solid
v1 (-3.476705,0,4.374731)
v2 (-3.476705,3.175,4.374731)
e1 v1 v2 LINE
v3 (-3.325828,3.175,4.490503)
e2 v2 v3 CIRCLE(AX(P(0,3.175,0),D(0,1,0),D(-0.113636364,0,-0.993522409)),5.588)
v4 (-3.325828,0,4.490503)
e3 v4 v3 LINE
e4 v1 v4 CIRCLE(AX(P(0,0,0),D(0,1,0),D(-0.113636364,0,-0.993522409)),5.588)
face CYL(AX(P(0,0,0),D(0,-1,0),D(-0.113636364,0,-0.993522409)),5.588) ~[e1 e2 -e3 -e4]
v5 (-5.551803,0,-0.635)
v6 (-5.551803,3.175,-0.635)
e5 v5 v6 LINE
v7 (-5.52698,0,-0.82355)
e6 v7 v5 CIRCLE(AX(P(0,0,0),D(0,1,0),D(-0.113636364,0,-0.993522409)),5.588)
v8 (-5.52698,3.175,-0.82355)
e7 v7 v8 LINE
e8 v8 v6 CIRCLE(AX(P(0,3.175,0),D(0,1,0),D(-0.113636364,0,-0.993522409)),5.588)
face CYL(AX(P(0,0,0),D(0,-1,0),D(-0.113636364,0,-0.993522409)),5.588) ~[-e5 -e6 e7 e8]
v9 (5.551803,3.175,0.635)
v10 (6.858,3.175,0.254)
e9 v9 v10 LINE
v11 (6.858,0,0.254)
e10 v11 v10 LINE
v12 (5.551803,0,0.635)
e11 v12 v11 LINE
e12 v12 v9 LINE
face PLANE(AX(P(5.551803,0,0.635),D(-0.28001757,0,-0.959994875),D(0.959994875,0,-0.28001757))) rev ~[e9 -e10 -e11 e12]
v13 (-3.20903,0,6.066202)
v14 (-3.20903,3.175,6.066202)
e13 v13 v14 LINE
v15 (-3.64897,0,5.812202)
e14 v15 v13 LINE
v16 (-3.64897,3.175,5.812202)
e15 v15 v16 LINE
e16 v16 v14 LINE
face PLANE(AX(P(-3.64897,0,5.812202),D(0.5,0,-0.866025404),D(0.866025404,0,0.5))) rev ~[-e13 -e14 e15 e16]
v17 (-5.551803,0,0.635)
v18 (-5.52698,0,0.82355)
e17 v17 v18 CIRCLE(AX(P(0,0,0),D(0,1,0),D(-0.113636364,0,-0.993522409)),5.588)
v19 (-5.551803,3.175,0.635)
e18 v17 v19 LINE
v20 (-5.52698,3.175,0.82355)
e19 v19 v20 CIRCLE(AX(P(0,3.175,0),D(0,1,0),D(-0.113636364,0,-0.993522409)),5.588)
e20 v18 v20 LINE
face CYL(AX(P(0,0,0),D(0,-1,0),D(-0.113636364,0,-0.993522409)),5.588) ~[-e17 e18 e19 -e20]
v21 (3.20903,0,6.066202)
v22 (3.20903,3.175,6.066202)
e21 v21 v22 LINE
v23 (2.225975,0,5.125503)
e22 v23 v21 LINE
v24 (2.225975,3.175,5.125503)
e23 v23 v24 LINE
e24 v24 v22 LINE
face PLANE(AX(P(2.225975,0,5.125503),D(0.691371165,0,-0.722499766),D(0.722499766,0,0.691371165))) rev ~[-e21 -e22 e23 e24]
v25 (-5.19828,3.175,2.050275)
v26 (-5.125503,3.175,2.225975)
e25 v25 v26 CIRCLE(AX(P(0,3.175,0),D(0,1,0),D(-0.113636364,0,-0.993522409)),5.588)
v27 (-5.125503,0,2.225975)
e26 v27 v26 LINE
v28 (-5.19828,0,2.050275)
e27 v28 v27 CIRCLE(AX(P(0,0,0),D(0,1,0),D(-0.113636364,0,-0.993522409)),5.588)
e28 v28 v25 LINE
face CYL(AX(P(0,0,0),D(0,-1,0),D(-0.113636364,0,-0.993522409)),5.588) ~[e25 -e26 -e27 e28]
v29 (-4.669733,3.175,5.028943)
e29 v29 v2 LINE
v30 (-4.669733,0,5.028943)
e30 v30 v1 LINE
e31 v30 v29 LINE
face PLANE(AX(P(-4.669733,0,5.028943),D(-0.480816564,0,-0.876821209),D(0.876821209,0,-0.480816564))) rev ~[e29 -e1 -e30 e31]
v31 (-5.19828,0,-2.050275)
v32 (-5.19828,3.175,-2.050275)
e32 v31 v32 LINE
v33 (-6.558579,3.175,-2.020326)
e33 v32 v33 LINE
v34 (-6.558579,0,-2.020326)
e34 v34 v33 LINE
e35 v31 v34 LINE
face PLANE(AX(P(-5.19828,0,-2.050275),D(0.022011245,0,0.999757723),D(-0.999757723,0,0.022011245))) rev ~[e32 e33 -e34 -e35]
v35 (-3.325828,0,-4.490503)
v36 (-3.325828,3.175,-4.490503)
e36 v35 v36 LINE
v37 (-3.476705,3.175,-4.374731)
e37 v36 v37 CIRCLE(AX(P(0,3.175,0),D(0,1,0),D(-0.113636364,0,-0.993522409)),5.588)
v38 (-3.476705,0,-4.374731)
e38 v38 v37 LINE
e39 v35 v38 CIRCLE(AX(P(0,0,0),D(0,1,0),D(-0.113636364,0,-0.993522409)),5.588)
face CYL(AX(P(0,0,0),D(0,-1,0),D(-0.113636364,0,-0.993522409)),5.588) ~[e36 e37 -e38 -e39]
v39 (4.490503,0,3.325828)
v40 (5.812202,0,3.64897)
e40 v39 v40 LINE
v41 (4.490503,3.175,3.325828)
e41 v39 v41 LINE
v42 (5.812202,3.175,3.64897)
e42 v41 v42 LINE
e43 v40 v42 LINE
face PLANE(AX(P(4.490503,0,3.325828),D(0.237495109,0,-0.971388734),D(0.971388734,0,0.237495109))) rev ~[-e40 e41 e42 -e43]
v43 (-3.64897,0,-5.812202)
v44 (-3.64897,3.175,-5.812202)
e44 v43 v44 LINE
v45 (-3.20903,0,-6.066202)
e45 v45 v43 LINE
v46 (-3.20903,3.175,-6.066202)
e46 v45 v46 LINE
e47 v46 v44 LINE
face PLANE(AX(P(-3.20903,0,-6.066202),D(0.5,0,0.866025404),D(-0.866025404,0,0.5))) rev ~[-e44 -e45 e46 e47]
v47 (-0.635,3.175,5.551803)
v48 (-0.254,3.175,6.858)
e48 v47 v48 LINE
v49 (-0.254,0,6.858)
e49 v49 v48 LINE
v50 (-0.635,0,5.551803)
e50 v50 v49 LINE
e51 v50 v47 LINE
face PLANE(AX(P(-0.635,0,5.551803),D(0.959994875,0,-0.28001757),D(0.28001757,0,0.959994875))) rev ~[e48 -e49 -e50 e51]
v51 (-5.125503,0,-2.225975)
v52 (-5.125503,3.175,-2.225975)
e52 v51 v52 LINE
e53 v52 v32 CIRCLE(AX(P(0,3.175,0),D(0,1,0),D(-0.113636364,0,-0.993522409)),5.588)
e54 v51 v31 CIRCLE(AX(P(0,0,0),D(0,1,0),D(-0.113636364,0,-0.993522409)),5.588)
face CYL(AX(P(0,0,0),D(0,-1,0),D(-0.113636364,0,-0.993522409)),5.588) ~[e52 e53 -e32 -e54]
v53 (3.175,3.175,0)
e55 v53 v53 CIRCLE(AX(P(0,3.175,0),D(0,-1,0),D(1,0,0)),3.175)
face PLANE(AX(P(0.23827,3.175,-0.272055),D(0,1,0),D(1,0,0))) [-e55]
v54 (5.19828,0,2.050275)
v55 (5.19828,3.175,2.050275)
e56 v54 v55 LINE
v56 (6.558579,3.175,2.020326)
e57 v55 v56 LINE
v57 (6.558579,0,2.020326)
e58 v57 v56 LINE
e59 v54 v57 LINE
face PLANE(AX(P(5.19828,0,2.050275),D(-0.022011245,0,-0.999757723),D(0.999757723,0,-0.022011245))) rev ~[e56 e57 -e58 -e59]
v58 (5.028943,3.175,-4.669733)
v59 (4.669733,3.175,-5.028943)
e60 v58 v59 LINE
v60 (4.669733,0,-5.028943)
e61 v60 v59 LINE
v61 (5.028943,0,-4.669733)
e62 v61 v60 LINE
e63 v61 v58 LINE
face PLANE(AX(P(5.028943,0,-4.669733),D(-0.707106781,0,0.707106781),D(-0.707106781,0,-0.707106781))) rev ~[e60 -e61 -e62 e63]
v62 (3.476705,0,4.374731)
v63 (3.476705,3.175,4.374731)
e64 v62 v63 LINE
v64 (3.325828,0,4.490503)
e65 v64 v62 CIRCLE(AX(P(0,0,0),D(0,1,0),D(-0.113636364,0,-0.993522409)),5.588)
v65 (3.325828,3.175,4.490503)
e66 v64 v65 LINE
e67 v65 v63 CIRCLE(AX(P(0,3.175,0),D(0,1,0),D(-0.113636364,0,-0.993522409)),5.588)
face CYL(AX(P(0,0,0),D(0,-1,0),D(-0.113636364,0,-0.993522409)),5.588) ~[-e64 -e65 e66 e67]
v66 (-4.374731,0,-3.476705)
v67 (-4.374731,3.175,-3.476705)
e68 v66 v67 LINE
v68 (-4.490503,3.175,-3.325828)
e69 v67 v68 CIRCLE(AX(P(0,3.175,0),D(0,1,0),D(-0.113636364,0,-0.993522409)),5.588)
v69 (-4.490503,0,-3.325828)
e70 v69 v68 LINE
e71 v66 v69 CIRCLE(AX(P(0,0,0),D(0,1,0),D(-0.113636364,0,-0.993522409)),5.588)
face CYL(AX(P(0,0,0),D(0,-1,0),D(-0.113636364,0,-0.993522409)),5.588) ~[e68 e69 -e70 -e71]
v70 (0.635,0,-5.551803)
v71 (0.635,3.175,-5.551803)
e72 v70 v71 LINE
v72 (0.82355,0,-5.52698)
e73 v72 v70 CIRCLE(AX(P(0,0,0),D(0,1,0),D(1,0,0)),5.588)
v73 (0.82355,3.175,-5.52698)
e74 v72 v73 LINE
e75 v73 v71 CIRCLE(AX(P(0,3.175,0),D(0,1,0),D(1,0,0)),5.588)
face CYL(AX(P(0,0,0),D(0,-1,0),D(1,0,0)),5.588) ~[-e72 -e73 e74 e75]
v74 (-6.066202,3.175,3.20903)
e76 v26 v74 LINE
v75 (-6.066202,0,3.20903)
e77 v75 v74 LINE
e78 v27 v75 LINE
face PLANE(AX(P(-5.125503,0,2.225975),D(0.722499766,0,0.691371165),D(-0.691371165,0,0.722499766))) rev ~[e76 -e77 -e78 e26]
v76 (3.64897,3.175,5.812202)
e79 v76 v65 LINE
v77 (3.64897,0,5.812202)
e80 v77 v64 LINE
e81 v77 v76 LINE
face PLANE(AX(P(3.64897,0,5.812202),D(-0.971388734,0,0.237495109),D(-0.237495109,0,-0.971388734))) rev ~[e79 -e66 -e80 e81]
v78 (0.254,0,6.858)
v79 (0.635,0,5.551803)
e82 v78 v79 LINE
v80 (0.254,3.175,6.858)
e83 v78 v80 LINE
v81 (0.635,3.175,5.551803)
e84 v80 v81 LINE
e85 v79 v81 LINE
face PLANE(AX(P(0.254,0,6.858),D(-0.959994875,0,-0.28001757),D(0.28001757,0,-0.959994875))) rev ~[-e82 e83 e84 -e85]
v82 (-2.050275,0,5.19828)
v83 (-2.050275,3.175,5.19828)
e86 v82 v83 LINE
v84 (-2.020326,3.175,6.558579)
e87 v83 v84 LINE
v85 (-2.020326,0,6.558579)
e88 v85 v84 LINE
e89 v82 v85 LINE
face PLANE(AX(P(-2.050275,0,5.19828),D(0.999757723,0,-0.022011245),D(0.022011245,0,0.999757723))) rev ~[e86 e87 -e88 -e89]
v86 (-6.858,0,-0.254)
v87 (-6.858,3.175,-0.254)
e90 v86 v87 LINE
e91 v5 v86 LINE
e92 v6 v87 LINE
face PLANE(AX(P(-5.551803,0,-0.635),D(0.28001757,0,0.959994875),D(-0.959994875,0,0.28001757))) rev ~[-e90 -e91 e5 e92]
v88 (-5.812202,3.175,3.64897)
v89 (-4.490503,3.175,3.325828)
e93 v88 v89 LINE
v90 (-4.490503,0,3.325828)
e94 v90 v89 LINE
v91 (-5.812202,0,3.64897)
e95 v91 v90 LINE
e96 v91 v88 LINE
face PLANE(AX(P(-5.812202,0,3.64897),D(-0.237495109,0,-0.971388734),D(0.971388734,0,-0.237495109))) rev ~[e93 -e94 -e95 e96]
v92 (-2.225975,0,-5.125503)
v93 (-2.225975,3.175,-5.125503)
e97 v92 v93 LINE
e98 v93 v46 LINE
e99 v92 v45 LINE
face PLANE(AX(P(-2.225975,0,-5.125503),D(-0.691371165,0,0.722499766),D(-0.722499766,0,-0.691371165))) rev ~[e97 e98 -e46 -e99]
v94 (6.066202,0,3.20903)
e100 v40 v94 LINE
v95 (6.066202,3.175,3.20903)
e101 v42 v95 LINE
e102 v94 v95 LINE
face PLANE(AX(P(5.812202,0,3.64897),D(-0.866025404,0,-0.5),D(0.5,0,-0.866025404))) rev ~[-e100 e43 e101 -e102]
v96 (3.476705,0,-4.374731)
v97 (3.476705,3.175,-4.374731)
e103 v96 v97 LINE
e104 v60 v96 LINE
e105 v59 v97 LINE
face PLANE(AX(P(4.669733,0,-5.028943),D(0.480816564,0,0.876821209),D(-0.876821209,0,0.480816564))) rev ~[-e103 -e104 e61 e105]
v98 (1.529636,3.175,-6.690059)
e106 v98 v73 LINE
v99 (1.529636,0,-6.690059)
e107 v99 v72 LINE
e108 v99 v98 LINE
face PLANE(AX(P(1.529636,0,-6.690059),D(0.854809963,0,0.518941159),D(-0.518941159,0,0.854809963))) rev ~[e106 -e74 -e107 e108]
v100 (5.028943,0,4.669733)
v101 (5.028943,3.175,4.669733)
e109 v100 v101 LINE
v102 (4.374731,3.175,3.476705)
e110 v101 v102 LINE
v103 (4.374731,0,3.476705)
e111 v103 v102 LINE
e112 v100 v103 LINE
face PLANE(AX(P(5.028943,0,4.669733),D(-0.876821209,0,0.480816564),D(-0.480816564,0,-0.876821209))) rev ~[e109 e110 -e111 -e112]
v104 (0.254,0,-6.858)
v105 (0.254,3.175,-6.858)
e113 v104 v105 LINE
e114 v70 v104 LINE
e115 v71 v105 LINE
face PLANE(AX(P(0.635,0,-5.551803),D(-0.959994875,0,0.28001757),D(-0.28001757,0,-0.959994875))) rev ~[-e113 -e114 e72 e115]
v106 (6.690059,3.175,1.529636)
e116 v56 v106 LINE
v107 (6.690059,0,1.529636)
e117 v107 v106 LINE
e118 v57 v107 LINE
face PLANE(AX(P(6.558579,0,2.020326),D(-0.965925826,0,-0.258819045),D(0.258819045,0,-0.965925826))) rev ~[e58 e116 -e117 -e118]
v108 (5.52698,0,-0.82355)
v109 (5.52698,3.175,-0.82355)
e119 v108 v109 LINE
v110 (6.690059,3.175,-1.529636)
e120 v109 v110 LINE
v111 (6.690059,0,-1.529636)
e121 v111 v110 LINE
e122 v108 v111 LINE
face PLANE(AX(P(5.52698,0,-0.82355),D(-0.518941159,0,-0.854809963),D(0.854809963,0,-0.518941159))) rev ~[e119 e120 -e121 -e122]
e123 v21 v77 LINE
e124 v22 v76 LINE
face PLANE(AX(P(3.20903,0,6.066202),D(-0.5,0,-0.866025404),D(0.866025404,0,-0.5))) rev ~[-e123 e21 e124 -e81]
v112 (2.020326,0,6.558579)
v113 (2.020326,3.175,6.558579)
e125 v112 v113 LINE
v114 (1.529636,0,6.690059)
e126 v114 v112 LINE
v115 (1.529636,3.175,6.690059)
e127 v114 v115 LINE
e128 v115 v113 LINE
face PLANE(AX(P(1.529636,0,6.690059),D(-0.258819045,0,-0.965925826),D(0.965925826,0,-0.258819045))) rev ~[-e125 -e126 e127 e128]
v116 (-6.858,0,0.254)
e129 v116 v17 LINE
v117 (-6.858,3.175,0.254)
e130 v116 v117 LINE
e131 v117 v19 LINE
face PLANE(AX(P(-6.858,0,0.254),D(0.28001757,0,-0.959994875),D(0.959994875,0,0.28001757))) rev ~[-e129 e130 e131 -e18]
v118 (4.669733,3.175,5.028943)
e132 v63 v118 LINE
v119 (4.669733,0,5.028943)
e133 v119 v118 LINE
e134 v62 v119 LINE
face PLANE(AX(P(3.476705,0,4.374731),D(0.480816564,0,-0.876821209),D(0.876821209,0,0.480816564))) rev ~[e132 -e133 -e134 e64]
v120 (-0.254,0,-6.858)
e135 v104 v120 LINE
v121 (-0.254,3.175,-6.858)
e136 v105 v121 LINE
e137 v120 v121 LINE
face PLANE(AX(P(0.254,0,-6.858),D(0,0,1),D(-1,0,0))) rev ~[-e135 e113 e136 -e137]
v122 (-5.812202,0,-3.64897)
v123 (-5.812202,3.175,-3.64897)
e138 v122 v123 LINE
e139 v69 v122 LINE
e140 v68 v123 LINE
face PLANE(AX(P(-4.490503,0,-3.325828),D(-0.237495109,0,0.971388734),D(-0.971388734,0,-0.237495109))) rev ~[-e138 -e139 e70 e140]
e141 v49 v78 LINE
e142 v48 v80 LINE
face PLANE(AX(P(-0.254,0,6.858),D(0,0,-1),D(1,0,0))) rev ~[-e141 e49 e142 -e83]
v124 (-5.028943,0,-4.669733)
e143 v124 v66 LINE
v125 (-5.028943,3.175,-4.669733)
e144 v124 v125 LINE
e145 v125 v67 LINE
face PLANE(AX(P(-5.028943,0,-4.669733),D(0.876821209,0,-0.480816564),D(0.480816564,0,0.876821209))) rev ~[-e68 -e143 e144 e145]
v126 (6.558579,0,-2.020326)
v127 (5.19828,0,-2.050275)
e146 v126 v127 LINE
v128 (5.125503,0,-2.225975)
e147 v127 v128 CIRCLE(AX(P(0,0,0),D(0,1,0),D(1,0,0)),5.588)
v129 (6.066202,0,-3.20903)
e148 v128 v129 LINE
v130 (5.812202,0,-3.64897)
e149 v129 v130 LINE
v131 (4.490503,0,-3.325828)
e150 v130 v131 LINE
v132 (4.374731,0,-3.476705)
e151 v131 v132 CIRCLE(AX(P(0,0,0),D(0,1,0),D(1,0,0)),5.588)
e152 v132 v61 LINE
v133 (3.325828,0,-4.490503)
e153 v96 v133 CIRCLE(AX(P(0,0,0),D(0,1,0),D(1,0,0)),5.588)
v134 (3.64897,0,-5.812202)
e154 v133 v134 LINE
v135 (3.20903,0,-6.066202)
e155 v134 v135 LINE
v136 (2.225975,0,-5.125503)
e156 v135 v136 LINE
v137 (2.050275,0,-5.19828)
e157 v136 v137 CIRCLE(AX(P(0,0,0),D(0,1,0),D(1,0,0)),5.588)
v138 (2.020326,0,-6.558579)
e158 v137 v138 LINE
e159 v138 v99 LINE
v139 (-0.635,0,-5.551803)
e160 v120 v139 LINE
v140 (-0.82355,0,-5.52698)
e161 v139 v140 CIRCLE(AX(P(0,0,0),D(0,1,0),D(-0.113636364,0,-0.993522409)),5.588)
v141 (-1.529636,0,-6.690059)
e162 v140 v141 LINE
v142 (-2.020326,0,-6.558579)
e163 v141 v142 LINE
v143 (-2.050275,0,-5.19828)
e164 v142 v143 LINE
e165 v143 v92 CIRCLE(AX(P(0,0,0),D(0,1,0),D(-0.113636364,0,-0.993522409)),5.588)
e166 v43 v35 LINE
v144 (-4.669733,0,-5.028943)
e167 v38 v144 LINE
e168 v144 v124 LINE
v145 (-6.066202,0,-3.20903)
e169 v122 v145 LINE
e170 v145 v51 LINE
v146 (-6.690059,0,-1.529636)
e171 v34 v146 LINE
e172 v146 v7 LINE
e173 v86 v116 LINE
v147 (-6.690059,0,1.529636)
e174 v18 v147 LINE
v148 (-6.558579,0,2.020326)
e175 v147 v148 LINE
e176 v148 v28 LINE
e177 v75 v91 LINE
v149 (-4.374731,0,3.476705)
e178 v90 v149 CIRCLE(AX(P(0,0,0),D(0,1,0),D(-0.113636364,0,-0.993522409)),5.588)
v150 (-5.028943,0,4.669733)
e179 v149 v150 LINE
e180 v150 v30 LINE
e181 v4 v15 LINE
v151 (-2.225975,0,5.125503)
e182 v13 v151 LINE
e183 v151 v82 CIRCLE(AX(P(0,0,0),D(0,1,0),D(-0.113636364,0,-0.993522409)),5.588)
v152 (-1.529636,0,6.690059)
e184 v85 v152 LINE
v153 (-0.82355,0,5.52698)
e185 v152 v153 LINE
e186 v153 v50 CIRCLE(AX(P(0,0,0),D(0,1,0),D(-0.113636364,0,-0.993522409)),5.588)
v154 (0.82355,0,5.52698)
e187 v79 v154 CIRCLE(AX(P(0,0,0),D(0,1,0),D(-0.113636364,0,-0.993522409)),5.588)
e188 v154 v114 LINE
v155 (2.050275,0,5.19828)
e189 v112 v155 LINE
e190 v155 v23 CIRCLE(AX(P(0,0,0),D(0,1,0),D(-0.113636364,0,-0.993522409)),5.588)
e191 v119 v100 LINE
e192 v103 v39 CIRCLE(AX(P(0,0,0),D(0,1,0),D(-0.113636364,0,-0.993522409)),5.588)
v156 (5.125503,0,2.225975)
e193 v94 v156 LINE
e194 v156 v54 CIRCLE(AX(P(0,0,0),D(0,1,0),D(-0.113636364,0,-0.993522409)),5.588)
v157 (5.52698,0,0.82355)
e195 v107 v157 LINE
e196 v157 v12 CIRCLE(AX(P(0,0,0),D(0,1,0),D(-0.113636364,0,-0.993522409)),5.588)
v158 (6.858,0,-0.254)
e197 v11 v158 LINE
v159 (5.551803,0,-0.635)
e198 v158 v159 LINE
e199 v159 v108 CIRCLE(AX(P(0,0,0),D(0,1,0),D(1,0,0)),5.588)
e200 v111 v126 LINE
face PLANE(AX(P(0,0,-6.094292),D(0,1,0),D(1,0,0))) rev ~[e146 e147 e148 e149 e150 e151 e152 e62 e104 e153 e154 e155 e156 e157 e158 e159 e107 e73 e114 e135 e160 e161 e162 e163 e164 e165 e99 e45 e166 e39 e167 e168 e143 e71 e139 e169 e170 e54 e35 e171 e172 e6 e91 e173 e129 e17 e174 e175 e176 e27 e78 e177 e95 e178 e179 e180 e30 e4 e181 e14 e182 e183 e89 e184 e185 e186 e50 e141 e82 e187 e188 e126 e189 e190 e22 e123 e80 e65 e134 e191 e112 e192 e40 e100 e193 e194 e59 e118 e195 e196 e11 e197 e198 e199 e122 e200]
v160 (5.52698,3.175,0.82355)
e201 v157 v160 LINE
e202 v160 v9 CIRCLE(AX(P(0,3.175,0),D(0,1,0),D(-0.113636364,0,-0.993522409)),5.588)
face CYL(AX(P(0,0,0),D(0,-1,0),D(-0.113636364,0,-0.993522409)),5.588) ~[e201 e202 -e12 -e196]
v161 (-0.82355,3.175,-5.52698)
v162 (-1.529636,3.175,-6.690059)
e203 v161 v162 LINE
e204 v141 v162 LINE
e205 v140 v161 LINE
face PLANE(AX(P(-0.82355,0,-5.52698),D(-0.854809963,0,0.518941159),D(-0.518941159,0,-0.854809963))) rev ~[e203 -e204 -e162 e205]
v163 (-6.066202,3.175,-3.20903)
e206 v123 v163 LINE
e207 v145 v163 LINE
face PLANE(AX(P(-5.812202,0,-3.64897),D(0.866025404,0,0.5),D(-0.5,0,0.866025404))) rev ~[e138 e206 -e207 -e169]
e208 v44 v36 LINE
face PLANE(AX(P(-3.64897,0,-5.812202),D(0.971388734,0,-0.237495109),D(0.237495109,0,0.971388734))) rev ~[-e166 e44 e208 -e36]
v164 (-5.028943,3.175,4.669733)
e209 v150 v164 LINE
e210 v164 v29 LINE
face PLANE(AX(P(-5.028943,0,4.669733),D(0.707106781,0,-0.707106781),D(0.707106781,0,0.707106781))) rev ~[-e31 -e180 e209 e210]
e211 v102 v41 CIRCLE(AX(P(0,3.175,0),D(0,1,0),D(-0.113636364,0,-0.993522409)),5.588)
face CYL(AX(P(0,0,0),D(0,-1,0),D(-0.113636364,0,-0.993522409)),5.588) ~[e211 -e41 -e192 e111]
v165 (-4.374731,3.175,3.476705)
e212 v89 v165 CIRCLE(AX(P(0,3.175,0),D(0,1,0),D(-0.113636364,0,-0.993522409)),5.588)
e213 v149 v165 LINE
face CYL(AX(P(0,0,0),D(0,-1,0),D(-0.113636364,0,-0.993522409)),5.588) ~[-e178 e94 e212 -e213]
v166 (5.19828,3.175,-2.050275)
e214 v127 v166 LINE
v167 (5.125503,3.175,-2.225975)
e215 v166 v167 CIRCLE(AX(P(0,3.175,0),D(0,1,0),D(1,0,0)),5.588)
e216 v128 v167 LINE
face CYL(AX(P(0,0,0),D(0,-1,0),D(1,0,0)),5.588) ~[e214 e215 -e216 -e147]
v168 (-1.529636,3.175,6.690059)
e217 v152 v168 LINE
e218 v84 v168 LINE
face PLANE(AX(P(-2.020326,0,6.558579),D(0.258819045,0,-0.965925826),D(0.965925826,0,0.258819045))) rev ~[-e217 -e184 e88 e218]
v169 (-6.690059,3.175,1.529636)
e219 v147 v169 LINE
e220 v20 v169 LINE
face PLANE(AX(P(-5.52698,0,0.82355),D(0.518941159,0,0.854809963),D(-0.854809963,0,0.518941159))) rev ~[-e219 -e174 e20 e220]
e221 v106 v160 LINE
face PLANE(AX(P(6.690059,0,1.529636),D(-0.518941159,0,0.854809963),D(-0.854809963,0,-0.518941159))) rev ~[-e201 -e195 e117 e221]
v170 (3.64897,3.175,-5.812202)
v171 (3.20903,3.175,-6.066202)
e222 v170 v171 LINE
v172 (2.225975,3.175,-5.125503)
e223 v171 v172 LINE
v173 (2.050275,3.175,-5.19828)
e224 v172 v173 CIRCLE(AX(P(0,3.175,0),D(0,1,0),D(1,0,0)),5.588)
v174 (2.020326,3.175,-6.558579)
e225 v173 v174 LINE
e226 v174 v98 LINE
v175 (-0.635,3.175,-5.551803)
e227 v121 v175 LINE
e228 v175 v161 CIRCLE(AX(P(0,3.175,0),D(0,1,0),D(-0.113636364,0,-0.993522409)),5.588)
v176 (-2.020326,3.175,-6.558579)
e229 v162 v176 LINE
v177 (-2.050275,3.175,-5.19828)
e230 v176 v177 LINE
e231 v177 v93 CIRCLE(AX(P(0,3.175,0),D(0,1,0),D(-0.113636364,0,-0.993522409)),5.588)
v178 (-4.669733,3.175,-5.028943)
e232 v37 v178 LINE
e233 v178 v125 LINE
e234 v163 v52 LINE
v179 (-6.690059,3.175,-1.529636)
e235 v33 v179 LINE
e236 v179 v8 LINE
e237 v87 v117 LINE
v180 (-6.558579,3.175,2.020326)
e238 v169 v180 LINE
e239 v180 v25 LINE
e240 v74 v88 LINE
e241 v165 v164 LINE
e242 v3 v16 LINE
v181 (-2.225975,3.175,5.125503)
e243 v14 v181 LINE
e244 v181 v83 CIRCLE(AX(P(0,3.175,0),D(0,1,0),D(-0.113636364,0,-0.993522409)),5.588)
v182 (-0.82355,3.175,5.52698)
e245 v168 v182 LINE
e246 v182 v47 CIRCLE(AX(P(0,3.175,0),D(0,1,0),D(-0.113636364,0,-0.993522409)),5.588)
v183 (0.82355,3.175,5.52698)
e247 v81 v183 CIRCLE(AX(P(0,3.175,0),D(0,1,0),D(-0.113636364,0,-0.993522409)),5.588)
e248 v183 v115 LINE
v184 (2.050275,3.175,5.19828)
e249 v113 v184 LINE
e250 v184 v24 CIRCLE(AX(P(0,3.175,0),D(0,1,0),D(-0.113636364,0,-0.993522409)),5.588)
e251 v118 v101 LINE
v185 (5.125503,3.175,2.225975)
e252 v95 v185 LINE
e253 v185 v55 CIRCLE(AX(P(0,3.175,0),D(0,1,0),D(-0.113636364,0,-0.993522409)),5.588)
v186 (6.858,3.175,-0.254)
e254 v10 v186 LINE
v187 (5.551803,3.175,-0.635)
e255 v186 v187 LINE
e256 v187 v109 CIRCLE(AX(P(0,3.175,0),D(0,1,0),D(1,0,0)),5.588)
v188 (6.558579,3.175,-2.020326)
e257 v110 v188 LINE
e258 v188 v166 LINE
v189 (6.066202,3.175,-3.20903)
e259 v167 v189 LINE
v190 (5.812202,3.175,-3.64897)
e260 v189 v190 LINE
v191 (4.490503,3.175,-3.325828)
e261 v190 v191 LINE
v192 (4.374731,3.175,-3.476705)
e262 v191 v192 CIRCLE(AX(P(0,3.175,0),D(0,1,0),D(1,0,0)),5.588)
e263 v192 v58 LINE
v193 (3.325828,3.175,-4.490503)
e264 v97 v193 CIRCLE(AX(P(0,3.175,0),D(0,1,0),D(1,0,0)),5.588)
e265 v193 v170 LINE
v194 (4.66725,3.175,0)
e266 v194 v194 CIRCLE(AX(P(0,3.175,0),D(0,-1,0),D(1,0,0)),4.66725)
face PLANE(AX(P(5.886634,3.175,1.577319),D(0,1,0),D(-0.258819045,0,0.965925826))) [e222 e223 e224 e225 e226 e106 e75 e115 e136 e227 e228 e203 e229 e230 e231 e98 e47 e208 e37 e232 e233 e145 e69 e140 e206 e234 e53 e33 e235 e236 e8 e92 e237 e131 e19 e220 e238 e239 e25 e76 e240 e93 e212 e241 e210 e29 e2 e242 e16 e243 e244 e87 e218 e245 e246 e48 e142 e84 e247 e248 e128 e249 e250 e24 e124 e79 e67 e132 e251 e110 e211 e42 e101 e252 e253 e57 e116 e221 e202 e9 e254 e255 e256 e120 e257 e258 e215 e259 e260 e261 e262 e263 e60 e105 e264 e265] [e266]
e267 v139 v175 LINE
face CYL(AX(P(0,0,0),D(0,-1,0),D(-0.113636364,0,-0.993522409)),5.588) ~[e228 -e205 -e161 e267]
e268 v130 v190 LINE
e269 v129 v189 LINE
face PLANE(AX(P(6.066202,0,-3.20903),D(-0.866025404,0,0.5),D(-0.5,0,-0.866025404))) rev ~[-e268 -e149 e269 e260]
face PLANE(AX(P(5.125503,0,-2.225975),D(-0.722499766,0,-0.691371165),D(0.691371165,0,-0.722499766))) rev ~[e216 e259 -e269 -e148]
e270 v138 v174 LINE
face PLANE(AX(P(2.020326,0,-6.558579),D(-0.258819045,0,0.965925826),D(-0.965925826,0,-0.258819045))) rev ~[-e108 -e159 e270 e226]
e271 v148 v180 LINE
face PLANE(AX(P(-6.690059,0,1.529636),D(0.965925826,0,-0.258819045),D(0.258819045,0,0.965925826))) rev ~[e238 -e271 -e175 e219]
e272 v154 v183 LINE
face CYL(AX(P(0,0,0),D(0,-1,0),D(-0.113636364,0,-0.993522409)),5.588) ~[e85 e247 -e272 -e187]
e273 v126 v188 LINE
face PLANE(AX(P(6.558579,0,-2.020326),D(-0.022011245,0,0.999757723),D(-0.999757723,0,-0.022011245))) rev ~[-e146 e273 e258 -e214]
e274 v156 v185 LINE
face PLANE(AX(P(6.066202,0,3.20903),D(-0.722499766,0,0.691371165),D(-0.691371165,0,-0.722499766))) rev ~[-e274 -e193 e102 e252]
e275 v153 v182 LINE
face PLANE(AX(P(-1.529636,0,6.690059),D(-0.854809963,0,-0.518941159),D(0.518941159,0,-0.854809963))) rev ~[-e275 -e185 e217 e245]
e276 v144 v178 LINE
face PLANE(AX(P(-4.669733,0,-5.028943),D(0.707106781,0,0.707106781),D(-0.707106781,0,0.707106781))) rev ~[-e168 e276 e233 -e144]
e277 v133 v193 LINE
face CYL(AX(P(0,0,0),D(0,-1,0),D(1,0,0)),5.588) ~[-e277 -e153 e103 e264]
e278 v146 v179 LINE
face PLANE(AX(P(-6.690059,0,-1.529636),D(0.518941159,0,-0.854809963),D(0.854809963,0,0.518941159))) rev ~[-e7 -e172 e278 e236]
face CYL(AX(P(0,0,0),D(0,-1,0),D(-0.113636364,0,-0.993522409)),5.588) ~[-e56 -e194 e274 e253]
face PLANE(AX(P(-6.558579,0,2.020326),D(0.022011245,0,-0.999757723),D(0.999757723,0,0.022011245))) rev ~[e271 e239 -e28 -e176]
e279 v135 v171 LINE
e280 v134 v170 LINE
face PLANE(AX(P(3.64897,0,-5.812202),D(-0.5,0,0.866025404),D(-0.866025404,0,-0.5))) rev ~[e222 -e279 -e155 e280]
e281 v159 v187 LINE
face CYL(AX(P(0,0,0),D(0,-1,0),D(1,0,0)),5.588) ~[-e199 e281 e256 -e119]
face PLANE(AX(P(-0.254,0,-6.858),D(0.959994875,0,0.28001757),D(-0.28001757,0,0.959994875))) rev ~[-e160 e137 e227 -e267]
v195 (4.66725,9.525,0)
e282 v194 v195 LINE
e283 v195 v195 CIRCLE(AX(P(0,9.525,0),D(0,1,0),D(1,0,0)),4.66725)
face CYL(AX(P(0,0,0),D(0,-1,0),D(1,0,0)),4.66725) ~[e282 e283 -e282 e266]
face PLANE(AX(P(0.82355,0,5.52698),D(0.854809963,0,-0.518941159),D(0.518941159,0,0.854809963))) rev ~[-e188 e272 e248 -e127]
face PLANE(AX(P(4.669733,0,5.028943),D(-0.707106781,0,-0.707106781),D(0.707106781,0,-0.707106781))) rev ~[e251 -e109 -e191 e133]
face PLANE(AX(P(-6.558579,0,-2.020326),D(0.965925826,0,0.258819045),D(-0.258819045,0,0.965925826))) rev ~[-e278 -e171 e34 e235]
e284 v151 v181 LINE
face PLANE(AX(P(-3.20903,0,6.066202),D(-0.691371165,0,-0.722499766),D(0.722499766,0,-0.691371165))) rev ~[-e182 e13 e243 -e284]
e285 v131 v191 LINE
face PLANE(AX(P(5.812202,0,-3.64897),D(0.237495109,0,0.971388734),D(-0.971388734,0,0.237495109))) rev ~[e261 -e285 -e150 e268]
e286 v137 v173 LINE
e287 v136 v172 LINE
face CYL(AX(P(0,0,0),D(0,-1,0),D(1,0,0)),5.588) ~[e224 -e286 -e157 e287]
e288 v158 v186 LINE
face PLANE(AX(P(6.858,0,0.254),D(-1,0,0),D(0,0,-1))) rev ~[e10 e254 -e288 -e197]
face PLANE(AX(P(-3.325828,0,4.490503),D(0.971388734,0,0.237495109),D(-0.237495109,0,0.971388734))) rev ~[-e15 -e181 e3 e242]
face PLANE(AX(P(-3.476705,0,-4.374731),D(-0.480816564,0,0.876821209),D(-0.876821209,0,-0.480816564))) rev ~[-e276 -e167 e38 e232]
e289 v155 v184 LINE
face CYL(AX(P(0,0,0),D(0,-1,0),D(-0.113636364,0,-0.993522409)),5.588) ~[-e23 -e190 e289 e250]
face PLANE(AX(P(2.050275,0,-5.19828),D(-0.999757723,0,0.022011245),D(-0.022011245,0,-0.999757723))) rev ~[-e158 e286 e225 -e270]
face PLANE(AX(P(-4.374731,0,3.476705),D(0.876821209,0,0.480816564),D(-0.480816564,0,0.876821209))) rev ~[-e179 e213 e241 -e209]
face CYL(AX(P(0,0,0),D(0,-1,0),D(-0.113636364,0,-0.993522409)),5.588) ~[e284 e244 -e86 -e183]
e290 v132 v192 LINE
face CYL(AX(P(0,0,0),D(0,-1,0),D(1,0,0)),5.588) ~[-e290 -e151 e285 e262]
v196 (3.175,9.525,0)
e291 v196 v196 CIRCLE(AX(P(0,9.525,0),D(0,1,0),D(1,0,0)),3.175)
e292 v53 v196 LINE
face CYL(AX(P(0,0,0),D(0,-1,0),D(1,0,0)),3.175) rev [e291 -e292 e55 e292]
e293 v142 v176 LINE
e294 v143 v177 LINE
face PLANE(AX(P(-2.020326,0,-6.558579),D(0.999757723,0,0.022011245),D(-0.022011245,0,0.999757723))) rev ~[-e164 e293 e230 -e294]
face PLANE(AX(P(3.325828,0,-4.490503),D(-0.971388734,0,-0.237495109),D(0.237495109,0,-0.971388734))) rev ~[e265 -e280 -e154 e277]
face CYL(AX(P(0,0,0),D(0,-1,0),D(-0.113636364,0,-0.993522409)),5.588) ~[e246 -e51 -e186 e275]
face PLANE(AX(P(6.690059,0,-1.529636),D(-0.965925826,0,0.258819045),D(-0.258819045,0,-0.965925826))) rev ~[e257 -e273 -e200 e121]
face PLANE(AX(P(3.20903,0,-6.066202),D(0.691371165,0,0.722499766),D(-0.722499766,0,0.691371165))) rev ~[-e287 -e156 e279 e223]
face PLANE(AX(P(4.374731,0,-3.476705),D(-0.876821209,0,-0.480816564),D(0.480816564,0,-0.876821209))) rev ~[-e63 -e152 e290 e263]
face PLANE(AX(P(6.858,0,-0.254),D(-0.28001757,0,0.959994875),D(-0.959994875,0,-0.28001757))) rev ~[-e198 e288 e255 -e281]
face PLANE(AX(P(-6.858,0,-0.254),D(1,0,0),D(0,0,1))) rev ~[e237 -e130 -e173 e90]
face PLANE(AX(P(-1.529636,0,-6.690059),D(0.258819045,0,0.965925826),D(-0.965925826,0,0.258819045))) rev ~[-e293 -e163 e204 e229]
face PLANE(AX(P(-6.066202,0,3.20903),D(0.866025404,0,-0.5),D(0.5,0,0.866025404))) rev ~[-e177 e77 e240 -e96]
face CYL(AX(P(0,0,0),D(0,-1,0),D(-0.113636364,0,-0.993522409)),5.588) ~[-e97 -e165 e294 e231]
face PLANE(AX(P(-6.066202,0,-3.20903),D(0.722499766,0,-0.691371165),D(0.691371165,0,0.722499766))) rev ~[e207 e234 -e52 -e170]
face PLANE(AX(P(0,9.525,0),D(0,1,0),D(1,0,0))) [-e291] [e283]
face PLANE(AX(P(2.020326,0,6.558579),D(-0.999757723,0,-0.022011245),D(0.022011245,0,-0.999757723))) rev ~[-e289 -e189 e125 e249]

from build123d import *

# Parameters (mm, degrees)
SKETCH1_R           = 4.66725
SKETCH1_R_2         = 3.175
BOSS_EXTRUDE1_DEPTH = 9.525
BOSS_EXTRUDE2_DEPTH = 3.175
BOSS_EXTRUDE3_DEPTH = 3.175
CIRPATTERN1_COUNT   = 24


with BuildPart() as part:
    # Sketch1 → Boss-Extrude1 (new body)
    with BuildSketch(Plane(origin=(0, 0, 0), x_dir=(1, 0, 0), z_dir=(0, 1, 0))):
        Circle(SKETCH1_R)
        Circle(SKETCH1_R_2, mode=Mode.SUBTRACT)
    extrude(amount=BOSS_EXTRUDE1_DEPTH)

    # Sketch2 → Boss-Extrude2 (add)
    with BuildSketch(Plane(origin=(0, 0, 0), x_dir=(1, 0, 0), z_dir=(0, 1, 0))):
        with BuildLine():
            Line((0.635, 5.551803221), (-0.635, 5.551803221))
            ThreePointArc((-0.635, 5.551803221), (-3.720037903, -4.16977961), (5.588, 0))
            ThreePointArc((5.588, 0), (4.16977961, 3.720037903), (0.635, 5.551803221))
        make_face()
    extrude(amount=BOSS_EXTRUDE2_DEPTH)

    # Sketch2<3> → Boss-Extrude3 (add)
    with BuildSketch(Plane(origin=(0, 0, 0), x_dir=(1, 0, 0), z_dir=(0, 1, 0))):
        Polygon((-0.635, 5.551803221), (0.635, 5.551803221), (0.254, 6.858), (-0.254, 6.858), align=None)
    boss_extrude3 = extrude(amount=BOSS_EXTRUDE3_DEPTH)

    # CirPattern1: Boss-Extrude3 ×24 about axis
    cirpattern1_axis = Axis((0, 9.525, 0), (0, -1, 0))
    for i in range(1, CIRPATTERN1_COUNT):
        add(boss_extrude3.rotate(cirpattern1_axis, i * 360 / CIRPATTERN1_COUNT))


solid = part.part
